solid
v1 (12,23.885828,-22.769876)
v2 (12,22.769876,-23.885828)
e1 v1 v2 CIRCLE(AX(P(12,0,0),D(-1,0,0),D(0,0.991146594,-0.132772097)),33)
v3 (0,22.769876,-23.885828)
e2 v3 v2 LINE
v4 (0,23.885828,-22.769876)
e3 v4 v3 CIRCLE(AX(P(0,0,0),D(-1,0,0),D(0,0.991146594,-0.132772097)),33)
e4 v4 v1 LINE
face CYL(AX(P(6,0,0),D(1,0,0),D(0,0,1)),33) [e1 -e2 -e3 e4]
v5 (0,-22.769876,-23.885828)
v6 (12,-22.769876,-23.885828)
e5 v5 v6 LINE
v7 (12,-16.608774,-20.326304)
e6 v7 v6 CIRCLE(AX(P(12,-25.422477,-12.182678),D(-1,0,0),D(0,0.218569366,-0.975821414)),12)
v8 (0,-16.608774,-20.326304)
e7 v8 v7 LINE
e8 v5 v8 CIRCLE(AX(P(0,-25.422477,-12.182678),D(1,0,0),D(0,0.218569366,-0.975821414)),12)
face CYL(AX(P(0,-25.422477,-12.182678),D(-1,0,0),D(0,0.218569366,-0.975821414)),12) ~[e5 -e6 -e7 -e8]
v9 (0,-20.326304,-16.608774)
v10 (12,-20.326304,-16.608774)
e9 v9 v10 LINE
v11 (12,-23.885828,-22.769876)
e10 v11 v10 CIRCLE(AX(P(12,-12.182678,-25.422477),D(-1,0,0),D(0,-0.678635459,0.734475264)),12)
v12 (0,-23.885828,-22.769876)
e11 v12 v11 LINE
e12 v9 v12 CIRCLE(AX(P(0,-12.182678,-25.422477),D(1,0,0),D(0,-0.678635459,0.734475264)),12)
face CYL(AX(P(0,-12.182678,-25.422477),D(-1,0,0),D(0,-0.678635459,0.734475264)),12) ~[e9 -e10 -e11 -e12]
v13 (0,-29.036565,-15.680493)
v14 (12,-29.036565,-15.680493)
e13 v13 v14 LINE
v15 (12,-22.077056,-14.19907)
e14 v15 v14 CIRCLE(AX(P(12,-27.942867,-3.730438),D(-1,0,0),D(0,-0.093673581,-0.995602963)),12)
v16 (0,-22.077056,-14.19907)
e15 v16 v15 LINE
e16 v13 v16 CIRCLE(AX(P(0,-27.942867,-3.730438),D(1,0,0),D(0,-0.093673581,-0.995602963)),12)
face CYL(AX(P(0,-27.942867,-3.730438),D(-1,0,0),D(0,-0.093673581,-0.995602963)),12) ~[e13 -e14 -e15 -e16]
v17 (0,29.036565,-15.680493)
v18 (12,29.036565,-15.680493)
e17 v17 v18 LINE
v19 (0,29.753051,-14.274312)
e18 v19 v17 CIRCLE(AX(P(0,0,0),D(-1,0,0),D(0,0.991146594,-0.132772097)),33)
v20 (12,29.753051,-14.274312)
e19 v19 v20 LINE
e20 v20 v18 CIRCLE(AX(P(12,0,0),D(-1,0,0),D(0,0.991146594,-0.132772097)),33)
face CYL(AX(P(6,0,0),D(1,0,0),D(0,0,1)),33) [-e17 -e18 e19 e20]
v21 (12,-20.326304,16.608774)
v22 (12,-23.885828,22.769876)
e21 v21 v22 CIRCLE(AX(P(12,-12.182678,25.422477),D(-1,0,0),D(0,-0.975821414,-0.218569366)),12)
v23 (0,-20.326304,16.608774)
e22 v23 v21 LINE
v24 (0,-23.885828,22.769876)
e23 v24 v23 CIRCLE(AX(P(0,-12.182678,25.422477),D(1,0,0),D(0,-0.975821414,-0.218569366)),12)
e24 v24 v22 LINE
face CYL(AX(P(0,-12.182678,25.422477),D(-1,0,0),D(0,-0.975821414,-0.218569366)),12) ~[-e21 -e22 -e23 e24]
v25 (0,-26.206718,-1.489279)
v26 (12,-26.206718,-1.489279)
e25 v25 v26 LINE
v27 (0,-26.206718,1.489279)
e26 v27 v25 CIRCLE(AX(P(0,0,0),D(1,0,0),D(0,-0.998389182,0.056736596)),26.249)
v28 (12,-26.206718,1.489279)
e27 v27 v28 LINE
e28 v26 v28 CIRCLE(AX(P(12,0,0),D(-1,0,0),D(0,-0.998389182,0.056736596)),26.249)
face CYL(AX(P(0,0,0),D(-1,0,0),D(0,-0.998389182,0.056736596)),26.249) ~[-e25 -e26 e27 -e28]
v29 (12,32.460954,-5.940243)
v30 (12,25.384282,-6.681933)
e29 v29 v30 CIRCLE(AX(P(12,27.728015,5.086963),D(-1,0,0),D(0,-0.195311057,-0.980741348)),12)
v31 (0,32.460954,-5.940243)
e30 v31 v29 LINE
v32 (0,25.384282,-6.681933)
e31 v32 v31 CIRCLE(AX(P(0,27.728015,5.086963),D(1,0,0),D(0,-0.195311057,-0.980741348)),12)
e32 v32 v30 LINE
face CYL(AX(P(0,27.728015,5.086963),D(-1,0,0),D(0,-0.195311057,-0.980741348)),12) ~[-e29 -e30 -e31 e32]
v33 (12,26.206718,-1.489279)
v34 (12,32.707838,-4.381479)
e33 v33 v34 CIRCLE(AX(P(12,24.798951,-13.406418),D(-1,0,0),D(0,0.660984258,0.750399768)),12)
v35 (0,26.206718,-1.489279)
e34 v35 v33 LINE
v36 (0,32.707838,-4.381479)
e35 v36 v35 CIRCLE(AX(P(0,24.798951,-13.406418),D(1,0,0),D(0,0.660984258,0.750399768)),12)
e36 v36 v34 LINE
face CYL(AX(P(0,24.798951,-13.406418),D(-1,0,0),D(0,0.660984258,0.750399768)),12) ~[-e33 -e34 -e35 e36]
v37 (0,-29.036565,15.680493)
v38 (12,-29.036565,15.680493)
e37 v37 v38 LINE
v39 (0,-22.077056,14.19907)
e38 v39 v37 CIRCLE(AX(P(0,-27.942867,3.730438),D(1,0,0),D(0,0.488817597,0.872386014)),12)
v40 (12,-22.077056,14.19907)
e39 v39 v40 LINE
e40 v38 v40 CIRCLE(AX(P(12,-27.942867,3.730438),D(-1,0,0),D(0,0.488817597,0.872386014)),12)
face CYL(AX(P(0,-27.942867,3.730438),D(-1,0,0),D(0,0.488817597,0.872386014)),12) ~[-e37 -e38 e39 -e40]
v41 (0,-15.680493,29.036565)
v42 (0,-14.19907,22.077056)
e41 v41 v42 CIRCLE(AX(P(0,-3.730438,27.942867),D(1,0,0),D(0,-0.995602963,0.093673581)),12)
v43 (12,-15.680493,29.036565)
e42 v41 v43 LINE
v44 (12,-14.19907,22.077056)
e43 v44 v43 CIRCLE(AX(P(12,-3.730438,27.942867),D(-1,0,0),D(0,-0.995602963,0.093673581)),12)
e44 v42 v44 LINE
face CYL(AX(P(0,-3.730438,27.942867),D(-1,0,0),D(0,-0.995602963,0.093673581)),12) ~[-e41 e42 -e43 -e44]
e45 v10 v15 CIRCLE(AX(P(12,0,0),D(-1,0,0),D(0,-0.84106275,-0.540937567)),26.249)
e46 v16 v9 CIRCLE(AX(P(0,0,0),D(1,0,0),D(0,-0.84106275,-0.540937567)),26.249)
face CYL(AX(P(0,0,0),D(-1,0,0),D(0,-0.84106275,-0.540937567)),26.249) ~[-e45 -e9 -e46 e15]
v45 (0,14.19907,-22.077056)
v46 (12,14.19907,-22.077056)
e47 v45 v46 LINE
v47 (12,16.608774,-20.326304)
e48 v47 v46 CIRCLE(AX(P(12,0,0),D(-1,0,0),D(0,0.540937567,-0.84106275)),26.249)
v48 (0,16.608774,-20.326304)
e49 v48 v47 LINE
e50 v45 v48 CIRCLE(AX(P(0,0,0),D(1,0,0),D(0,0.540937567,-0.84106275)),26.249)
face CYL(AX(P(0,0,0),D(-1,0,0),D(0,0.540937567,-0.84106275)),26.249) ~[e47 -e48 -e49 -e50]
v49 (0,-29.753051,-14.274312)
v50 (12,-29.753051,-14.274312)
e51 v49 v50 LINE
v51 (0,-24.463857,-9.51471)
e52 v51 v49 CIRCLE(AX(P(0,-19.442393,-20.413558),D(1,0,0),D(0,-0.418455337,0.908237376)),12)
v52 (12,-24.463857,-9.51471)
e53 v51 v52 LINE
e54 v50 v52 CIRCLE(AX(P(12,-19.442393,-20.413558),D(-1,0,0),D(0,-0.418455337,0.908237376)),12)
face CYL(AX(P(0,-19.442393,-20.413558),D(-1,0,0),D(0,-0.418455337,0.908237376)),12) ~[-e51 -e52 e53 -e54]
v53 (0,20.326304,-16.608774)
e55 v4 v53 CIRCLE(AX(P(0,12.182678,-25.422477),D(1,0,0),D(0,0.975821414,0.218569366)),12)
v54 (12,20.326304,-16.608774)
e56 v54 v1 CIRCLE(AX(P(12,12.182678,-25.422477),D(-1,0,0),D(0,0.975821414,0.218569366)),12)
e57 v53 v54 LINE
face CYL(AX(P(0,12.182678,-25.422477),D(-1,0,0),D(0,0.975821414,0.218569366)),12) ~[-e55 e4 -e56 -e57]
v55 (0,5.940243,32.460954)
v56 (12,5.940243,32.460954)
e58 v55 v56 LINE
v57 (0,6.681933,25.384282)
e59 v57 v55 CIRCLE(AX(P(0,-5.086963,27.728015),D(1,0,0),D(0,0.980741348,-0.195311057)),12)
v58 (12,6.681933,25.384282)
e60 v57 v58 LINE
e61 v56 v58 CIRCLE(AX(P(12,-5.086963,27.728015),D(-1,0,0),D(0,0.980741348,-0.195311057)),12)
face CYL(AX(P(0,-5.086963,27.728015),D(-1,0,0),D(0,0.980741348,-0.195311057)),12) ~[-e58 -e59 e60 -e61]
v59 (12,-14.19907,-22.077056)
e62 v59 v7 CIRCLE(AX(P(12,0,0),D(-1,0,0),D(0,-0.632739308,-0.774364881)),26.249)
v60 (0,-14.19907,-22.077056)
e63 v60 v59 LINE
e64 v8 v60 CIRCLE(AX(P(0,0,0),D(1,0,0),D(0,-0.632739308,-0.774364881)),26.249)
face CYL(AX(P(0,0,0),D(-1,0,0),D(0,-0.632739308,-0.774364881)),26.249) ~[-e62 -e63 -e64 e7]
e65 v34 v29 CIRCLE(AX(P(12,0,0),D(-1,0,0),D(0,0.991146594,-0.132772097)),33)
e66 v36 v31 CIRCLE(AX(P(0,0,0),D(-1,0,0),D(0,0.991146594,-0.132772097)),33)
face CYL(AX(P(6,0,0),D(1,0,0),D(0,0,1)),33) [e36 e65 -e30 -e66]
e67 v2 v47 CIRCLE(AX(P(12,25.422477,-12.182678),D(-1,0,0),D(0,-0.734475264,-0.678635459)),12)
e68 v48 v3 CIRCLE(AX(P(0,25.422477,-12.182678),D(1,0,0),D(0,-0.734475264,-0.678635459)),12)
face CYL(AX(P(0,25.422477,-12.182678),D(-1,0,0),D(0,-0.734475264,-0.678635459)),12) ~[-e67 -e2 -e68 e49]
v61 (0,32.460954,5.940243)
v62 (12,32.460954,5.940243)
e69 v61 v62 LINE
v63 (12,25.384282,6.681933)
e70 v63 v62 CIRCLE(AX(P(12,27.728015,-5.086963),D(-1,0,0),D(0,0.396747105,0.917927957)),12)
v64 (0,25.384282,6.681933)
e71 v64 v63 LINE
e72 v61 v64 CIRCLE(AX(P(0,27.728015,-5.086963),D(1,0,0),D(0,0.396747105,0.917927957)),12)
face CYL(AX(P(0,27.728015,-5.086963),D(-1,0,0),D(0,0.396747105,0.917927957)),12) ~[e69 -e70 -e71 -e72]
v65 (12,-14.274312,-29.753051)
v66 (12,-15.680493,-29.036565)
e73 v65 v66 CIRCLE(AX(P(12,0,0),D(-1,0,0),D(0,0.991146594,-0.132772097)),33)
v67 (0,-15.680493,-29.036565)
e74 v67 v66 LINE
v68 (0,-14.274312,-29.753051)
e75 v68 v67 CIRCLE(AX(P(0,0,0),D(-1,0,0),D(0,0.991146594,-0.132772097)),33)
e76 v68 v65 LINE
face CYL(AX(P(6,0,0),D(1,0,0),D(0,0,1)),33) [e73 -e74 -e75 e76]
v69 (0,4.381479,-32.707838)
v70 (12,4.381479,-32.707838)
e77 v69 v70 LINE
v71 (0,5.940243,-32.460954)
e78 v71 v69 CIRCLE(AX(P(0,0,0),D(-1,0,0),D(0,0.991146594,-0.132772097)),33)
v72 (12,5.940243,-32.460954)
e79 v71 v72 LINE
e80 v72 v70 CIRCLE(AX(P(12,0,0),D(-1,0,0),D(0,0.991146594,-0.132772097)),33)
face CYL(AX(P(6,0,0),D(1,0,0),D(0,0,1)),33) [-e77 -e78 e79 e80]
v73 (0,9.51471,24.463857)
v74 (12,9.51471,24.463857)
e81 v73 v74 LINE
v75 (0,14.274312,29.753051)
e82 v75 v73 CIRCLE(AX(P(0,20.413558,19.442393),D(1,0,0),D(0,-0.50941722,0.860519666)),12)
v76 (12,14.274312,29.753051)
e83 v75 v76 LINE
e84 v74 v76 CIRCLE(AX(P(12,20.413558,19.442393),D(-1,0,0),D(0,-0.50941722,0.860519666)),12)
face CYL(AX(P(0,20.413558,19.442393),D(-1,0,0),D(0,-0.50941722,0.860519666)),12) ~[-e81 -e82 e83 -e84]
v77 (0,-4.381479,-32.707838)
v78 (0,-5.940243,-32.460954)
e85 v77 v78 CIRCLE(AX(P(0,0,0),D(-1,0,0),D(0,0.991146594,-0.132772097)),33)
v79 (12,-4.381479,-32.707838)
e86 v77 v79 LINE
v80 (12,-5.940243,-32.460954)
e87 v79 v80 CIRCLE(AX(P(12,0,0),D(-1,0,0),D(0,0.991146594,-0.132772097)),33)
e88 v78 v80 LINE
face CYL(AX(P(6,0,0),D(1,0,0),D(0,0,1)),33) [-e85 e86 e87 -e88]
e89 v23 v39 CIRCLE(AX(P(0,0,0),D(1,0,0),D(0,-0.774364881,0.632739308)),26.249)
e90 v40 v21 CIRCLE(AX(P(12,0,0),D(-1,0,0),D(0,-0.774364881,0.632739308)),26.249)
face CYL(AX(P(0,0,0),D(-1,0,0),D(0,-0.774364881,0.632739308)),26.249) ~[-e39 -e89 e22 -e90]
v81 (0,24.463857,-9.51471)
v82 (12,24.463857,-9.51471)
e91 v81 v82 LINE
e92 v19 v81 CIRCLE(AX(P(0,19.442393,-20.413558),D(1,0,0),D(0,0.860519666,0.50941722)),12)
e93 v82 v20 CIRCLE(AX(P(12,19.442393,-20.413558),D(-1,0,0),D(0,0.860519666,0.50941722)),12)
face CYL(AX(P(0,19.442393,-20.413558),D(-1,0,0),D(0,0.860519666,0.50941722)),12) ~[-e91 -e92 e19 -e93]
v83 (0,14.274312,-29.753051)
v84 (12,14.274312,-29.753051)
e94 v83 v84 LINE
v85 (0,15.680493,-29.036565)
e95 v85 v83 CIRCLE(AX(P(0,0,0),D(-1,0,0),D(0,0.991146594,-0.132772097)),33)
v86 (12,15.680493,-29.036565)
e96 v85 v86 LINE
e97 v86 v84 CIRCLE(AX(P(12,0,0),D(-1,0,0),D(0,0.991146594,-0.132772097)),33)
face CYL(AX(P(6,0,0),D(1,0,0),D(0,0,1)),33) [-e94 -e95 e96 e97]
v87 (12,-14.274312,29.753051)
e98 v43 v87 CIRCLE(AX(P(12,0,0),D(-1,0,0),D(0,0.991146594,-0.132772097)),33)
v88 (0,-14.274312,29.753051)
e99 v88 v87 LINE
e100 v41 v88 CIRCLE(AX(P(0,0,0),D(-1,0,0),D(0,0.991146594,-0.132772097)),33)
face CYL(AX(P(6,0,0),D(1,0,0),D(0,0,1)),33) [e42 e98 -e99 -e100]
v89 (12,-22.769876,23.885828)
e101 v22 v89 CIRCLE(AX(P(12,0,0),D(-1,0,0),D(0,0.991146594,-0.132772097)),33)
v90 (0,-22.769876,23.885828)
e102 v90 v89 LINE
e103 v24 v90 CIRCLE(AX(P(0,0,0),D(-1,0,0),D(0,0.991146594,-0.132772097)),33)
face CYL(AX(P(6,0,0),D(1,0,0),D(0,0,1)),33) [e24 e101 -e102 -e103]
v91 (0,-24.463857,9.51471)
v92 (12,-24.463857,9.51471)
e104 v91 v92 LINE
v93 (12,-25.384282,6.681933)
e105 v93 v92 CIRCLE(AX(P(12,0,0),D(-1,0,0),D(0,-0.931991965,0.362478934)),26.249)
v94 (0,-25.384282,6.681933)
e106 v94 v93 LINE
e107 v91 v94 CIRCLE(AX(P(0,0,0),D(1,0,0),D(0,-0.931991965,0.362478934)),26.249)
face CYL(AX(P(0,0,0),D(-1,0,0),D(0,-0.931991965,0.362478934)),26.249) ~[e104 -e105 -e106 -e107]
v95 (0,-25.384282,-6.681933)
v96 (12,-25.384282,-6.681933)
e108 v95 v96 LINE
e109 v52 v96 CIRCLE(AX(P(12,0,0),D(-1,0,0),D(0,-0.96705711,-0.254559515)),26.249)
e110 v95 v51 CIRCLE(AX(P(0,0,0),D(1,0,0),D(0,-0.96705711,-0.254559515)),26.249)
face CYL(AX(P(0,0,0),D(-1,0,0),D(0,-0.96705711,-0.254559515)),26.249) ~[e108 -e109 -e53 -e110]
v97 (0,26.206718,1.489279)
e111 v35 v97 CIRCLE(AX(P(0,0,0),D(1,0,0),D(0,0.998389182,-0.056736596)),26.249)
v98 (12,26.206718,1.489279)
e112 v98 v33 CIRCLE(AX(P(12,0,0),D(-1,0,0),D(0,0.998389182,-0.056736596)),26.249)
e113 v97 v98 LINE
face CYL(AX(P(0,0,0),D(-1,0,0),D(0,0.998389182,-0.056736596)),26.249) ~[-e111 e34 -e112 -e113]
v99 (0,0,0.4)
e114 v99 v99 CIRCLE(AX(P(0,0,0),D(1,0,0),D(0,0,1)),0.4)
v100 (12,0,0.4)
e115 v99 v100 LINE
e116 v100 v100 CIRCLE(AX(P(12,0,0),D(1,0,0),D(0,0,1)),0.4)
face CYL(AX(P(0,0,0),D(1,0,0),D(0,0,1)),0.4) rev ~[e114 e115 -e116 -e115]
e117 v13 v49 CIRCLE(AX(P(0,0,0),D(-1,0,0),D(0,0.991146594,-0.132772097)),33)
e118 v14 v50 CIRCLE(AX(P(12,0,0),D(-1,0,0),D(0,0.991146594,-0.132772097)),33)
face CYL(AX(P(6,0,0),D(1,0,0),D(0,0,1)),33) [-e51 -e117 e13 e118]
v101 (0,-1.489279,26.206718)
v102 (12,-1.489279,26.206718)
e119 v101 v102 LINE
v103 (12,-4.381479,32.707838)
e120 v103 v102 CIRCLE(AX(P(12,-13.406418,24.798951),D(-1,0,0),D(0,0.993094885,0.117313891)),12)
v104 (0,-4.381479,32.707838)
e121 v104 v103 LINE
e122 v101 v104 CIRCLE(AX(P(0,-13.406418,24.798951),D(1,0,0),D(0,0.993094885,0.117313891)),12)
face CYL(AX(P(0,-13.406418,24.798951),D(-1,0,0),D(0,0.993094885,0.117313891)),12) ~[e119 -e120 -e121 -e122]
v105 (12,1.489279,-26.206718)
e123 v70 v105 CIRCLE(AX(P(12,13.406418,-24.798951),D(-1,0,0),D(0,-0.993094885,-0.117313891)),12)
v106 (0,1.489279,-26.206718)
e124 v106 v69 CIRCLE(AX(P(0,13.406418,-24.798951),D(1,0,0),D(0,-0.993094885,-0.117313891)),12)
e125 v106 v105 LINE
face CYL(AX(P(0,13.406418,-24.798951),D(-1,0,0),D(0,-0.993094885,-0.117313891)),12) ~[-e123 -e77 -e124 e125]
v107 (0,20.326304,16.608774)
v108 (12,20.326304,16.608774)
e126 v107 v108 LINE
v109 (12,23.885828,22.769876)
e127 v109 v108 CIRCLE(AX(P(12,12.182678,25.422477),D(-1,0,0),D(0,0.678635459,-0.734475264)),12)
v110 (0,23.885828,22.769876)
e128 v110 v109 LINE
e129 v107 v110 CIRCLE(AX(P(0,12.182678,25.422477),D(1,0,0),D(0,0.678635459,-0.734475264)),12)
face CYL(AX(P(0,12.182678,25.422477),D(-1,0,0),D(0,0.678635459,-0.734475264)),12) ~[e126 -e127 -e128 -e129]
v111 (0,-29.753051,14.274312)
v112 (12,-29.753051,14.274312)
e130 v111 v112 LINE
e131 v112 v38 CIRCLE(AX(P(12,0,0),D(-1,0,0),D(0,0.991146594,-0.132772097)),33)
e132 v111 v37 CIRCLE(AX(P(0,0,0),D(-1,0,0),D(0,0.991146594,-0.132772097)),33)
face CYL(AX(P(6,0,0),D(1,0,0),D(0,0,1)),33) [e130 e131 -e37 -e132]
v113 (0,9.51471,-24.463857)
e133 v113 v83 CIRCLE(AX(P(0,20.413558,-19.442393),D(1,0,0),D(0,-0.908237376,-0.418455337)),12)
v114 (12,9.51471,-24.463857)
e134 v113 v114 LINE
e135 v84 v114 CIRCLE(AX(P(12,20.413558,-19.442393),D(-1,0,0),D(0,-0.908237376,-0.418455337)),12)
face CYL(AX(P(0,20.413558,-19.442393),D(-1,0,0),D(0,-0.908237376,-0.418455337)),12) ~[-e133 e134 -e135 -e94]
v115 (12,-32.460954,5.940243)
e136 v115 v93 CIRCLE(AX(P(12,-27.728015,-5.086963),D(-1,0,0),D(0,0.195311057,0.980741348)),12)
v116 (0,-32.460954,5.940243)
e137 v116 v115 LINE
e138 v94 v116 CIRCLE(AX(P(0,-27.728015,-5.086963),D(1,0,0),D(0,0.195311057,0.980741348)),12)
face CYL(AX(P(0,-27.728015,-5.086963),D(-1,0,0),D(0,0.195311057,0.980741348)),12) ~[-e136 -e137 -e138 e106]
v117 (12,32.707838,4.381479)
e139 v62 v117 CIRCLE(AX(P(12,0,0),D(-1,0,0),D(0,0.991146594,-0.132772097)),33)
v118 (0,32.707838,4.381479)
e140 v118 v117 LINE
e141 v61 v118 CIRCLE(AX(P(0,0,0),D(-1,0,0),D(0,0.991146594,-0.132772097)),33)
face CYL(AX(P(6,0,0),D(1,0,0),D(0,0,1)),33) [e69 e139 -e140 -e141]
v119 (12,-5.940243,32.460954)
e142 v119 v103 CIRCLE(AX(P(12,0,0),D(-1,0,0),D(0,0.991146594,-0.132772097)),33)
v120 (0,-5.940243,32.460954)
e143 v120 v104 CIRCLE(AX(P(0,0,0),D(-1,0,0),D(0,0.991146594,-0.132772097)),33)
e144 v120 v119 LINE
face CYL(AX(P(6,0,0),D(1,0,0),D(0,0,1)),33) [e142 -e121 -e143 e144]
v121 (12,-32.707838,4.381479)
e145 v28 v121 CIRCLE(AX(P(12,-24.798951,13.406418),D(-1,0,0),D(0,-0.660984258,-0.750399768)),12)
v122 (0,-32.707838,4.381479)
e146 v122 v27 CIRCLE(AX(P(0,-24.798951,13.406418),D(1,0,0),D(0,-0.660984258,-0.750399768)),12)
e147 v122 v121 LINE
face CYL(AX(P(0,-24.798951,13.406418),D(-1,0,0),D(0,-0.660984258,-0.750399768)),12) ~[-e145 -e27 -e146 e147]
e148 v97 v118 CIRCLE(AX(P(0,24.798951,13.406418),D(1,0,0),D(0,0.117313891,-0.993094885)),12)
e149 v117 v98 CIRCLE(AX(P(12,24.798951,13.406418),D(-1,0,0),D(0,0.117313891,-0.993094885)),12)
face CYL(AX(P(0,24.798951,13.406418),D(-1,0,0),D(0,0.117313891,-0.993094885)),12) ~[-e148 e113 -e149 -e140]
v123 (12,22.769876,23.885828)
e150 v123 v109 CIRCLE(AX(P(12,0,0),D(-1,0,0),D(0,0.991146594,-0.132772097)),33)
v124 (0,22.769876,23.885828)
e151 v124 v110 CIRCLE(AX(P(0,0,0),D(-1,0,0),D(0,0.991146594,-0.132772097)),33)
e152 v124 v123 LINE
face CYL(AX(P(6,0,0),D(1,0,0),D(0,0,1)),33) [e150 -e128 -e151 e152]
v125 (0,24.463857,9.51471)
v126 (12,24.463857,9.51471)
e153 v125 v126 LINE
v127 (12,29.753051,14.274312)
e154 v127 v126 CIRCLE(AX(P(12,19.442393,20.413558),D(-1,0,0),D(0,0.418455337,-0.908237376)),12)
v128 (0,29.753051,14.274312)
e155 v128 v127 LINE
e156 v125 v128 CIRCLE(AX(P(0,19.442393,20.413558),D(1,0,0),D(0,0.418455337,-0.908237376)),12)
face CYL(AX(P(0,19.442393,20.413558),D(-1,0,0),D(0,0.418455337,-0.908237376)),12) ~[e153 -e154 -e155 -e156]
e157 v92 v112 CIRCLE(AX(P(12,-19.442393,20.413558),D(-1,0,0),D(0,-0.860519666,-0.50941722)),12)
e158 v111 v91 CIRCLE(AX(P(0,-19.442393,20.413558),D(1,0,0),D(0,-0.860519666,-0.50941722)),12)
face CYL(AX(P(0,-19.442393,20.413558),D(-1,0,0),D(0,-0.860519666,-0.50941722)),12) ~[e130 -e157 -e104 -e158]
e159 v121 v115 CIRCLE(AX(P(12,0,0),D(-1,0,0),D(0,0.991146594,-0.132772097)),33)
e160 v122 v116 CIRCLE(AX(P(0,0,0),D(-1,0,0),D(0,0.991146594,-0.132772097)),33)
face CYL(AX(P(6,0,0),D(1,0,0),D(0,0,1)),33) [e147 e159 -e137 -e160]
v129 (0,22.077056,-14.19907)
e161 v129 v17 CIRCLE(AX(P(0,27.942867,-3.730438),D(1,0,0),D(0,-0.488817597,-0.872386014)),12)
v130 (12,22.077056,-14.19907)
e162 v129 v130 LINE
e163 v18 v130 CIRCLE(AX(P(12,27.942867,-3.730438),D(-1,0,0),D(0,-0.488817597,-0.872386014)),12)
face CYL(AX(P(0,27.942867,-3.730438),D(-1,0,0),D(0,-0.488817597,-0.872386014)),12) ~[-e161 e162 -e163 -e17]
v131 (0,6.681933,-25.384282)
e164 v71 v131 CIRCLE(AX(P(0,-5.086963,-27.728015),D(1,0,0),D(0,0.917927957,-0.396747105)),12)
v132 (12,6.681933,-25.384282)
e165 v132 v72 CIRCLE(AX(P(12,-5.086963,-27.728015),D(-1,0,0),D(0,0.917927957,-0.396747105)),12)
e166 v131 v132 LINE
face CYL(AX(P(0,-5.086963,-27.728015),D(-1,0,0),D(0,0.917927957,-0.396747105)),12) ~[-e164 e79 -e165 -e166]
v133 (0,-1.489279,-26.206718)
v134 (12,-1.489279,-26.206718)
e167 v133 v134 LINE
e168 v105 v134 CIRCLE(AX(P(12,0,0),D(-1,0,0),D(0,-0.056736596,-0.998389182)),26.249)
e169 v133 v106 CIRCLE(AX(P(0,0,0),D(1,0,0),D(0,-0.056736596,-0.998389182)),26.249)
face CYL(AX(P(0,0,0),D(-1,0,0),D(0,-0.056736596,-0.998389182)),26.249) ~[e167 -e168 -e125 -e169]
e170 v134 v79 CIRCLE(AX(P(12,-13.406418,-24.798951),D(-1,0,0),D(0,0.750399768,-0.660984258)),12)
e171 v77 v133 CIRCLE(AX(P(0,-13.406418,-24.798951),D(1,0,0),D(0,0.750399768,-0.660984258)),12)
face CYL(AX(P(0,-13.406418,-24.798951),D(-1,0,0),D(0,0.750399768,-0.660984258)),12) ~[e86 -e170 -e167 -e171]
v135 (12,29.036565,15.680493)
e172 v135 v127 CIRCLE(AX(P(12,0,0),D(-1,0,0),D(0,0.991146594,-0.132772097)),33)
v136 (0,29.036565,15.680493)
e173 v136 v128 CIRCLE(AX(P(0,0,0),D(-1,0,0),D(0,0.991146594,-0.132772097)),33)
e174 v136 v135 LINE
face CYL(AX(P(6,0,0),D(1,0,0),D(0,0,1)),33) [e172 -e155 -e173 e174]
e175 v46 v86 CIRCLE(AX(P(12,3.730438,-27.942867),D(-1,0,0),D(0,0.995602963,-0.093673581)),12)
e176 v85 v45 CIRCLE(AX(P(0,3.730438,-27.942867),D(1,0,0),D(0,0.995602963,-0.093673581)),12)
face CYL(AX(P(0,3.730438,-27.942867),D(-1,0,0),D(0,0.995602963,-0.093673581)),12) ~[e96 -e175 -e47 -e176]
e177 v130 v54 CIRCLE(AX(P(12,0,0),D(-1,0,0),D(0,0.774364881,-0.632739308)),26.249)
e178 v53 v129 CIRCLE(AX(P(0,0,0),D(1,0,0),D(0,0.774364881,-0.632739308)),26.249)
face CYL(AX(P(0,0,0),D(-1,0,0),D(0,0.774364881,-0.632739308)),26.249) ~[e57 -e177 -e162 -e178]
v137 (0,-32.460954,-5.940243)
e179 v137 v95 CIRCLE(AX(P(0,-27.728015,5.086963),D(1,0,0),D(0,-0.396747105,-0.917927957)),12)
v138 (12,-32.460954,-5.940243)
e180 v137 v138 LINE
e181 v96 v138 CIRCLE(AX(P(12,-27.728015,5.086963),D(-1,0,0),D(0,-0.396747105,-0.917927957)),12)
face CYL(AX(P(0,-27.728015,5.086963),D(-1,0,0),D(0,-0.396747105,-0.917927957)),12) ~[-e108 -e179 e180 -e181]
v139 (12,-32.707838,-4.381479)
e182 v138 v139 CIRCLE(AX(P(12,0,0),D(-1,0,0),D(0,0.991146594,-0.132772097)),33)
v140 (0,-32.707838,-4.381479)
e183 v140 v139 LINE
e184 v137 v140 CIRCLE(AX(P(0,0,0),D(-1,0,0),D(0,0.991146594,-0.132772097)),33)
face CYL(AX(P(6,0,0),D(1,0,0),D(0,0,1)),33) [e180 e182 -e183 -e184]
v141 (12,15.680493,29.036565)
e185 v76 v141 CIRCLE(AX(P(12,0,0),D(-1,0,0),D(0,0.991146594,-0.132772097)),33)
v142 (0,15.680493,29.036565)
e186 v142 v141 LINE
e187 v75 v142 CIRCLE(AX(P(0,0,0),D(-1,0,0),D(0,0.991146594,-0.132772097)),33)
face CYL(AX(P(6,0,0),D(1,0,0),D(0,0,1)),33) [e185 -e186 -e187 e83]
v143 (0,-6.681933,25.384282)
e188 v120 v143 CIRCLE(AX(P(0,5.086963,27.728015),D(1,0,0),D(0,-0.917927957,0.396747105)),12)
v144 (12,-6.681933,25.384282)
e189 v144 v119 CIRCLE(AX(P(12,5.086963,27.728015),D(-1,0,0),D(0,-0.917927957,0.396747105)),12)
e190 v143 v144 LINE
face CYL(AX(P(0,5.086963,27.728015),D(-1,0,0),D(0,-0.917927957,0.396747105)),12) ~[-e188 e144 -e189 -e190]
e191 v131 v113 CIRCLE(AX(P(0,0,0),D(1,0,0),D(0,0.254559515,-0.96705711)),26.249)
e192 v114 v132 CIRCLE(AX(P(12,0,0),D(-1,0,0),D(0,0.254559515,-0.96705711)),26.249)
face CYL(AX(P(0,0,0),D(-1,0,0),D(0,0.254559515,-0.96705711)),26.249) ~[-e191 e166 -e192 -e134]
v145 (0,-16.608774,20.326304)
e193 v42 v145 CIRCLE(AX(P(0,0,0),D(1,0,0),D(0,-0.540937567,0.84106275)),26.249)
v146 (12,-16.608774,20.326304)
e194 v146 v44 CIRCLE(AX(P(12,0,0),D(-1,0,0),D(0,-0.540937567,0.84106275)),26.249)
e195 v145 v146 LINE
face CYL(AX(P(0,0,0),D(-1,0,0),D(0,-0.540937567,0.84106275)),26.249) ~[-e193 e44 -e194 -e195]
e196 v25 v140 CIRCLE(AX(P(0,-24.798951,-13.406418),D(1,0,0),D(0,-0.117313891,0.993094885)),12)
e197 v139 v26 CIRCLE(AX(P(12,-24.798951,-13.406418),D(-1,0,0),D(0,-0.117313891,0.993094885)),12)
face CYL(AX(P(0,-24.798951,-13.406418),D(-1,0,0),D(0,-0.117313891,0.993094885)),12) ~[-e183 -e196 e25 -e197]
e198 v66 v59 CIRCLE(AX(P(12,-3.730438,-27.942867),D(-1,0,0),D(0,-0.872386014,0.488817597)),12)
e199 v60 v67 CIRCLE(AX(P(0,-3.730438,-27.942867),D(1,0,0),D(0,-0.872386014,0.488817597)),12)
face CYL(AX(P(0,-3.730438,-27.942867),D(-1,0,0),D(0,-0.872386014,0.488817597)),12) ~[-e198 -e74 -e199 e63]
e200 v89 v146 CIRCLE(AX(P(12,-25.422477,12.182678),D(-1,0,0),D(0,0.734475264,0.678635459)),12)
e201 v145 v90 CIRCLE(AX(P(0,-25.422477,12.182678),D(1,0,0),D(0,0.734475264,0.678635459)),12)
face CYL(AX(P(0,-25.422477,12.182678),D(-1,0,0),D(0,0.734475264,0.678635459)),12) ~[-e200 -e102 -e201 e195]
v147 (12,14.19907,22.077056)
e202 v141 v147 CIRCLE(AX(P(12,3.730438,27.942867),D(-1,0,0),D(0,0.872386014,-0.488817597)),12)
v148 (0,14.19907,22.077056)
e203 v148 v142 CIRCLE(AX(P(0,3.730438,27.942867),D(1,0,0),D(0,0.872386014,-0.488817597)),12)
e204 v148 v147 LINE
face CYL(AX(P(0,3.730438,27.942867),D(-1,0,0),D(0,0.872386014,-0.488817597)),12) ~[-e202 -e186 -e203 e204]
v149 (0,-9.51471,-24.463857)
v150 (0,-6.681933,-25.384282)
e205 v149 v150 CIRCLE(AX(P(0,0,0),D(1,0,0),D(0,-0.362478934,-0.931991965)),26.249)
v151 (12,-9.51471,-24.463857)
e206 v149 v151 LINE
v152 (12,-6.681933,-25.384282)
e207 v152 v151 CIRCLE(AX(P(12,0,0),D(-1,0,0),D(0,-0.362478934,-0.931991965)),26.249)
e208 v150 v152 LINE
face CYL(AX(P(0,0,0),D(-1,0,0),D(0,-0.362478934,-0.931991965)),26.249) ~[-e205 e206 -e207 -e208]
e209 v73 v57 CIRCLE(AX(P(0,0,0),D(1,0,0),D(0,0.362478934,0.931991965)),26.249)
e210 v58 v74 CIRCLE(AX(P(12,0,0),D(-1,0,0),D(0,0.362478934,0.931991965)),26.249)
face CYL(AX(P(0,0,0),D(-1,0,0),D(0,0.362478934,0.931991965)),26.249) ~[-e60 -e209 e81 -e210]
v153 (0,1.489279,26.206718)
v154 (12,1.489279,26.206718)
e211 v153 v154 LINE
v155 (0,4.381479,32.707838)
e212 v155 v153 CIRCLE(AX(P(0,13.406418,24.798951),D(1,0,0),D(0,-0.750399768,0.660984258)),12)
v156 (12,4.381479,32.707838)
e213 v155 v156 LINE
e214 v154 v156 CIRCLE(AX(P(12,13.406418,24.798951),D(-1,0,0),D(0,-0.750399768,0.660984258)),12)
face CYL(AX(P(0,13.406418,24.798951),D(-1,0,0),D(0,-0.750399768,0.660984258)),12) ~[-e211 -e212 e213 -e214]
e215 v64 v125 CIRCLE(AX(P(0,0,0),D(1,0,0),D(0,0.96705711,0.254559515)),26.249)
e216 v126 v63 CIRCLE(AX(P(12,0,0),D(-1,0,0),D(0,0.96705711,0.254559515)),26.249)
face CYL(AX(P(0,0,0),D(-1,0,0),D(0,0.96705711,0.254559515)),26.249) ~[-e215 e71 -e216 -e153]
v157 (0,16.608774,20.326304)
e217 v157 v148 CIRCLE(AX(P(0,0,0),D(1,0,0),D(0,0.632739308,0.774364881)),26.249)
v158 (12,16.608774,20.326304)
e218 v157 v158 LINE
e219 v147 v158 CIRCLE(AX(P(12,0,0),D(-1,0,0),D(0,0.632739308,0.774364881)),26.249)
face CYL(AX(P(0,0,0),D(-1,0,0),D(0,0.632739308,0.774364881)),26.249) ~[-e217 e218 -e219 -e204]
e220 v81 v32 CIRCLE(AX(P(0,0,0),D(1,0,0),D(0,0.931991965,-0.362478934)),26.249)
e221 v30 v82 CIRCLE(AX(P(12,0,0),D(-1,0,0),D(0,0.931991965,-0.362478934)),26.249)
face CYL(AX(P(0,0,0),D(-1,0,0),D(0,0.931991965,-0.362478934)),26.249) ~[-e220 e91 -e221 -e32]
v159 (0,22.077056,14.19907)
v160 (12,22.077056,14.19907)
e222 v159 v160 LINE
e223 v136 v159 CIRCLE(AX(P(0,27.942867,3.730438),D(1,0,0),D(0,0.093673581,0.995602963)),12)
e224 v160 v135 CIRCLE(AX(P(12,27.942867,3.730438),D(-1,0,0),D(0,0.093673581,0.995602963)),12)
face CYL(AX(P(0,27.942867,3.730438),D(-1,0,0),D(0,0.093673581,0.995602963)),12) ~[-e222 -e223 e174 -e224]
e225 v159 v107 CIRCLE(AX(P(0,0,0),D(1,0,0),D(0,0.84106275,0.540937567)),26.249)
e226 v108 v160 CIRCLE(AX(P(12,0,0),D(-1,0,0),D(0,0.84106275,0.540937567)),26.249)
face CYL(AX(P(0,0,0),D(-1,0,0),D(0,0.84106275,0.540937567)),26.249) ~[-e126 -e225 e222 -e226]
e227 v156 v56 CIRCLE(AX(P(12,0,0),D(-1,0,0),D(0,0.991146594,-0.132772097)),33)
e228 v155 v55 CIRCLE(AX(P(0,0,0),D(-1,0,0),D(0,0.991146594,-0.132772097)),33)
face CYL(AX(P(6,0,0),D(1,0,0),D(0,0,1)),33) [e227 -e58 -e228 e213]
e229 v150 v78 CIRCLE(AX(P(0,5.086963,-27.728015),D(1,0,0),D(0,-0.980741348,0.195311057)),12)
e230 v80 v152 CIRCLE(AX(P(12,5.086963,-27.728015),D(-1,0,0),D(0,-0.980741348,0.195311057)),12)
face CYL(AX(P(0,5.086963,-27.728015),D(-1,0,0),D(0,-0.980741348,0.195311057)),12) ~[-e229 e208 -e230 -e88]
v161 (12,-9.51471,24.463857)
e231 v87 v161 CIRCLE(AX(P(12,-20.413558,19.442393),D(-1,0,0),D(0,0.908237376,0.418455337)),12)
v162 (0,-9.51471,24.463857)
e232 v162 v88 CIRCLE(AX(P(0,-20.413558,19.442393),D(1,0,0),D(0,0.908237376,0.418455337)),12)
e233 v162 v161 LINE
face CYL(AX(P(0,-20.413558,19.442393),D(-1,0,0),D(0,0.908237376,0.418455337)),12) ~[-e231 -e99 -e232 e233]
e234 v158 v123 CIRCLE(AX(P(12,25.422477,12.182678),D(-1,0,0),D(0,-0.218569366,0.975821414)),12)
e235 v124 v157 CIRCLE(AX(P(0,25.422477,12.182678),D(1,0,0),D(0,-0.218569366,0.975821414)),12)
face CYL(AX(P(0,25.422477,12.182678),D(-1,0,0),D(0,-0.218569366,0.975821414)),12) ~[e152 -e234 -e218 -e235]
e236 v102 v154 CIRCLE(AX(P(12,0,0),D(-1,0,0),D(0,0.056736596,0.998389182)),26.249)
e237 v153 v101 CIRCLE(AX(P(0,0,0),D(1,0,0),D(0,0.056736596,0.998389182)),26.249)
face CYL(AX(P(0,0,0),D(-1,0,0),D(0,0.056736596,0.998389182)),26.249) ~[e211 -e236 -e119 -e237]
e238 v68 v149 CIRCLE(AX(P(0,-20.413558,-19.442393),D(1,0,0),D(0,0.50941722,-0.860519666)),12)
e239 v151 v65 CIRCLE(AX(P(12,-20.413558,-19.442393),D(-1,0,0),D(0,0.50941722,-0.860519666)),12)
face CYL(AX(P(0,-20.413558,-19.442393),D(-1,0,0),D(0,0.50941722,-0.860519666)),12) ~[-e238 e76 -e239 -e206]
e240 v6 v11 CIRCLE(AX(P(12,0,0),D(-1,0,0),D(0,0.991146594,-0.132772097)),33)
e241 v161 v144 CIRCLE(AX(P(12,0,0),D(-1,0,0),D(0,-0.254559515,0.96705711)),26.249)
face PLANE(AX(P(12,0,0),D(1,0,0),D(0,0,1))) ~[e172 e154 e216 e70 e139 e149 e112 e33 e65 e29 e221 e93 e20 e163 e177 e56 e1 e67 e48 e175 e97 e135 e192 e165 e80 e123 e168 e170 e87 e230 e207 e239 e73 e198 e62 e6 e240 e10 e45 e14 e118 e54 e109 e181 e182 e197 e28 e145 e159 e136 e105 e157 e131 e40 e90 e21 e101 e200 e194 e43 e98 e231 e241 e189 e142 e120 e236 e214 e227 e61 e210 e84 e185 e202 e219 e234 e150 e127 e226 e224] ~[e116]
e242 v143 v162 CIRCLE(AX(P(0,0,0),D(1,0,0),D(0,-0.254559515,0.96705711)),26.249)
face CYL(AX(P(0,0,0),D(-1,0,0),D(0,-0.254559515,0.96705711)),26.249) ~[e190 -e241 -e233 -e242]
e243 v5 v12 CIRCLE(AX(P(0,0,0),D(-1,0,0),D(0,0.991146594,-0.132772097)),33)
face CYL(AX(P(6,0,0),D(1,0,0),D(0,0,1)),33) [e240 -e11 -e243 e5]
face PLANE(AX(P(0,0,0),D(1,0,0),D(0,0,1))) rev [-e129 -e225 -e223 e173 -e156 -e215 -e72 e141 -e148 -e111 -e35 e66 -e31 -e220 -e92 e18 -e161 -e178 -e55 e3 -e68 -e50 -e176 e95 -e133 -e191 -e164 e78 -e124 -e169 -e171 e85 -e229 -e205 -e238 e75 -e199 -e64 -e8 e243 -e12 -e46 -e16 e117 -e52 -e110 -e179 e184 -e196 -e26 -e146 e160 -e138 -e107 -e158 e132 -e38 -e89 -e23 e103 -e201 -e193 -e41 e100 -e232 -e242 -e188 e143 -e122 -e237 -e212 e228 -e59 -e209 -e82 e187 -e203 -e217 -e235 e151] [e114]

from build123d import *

# Parameters (mm, degrees)
BASPROSKE_W     = 12
BASPROSKE_H     = 33
TOOTHCUT_DEPTH  = 49.187135213
TEETHCUTS_COUNT = 20
TEETHCUTS_ANGLE = 342
BORSKE_R        = 0.4
BORE_DEPTH      = 50.0000508


with BuildPart() as part:
    # BasProSke → Base-Revolve (revolve)
    with BuildSketch(Plane(origin=(0, 0, 0), x_dir=(1, 0, 0), z_dir=(0, 1, 0)), mode=Mode.PRIVATE) as base_revolve_sk:
        with Locations((6, 16.5)):
            Rectangle(BASPROSKE_W, BASPROSKE_H)
    revolve(base_revolve_sk.sketch.rotate(Axis((-10, 0, 0), (1, 0, 0)), 180), axis=Axis((-10, 0, 0), (1, 0, 0)))

    # TooCutSke → ToothCut (cut, through all)
    with BuildSketch(Plane(origin=(0, 0, 0), x_dir=(0, 0, -1), z_dir=(1, 0, 0))):
        with BuildLine():
            ThreePointArc((1.489278925, 26.206717637), (0, 26.249), (-1.489278925, 26.206717637))
            ThreePointArc((-1.489278925, 26.206717637), (-2.448651415, 29.690511169), (-4.401620335, 32.730762038))
            ThreePointArc((-4.401620335, 32.730762038), (0, 33.0254), (4.401620335, 32.730762038))
            ThreePointArc((4.401620335, 32.730762038), (2.448651415, 29.690511169), (1.489278925, 26.206717637))
        make_face()
    toothcut = extrude(amount=TOOTHCUT_DEPTH, mode=Mode.SUBTRACT)

    # TeethCuts: ToothCut ×20 about axis
    teethcuts_axis = Axis((-10, 0, 0), (1, 0, 0))
    for i in range(1, TEETHCUTS_COUNT):
        add(toothcut.rotate(teethcuts_axis, i * TEETHCUTS_ANGLE / (TEETHCUTS_COUNT - 1)), mode=Mode.SUBTRACT)

    # BorSke → Bore (cut, symmetric)
    with BuildSketch(Plane(origin=(0, 0, 0), x_dir=(0, 0, -1), z_dir=(1, 0, 0))):
        with Locations(Location((0, 0, 0), (0, 0, 180))):
            Circle(BORSKE_R)
    extrude(amount=BORE_DEPTH, both=True, mode=Mode.SUBTRACT)


solid = part.part
